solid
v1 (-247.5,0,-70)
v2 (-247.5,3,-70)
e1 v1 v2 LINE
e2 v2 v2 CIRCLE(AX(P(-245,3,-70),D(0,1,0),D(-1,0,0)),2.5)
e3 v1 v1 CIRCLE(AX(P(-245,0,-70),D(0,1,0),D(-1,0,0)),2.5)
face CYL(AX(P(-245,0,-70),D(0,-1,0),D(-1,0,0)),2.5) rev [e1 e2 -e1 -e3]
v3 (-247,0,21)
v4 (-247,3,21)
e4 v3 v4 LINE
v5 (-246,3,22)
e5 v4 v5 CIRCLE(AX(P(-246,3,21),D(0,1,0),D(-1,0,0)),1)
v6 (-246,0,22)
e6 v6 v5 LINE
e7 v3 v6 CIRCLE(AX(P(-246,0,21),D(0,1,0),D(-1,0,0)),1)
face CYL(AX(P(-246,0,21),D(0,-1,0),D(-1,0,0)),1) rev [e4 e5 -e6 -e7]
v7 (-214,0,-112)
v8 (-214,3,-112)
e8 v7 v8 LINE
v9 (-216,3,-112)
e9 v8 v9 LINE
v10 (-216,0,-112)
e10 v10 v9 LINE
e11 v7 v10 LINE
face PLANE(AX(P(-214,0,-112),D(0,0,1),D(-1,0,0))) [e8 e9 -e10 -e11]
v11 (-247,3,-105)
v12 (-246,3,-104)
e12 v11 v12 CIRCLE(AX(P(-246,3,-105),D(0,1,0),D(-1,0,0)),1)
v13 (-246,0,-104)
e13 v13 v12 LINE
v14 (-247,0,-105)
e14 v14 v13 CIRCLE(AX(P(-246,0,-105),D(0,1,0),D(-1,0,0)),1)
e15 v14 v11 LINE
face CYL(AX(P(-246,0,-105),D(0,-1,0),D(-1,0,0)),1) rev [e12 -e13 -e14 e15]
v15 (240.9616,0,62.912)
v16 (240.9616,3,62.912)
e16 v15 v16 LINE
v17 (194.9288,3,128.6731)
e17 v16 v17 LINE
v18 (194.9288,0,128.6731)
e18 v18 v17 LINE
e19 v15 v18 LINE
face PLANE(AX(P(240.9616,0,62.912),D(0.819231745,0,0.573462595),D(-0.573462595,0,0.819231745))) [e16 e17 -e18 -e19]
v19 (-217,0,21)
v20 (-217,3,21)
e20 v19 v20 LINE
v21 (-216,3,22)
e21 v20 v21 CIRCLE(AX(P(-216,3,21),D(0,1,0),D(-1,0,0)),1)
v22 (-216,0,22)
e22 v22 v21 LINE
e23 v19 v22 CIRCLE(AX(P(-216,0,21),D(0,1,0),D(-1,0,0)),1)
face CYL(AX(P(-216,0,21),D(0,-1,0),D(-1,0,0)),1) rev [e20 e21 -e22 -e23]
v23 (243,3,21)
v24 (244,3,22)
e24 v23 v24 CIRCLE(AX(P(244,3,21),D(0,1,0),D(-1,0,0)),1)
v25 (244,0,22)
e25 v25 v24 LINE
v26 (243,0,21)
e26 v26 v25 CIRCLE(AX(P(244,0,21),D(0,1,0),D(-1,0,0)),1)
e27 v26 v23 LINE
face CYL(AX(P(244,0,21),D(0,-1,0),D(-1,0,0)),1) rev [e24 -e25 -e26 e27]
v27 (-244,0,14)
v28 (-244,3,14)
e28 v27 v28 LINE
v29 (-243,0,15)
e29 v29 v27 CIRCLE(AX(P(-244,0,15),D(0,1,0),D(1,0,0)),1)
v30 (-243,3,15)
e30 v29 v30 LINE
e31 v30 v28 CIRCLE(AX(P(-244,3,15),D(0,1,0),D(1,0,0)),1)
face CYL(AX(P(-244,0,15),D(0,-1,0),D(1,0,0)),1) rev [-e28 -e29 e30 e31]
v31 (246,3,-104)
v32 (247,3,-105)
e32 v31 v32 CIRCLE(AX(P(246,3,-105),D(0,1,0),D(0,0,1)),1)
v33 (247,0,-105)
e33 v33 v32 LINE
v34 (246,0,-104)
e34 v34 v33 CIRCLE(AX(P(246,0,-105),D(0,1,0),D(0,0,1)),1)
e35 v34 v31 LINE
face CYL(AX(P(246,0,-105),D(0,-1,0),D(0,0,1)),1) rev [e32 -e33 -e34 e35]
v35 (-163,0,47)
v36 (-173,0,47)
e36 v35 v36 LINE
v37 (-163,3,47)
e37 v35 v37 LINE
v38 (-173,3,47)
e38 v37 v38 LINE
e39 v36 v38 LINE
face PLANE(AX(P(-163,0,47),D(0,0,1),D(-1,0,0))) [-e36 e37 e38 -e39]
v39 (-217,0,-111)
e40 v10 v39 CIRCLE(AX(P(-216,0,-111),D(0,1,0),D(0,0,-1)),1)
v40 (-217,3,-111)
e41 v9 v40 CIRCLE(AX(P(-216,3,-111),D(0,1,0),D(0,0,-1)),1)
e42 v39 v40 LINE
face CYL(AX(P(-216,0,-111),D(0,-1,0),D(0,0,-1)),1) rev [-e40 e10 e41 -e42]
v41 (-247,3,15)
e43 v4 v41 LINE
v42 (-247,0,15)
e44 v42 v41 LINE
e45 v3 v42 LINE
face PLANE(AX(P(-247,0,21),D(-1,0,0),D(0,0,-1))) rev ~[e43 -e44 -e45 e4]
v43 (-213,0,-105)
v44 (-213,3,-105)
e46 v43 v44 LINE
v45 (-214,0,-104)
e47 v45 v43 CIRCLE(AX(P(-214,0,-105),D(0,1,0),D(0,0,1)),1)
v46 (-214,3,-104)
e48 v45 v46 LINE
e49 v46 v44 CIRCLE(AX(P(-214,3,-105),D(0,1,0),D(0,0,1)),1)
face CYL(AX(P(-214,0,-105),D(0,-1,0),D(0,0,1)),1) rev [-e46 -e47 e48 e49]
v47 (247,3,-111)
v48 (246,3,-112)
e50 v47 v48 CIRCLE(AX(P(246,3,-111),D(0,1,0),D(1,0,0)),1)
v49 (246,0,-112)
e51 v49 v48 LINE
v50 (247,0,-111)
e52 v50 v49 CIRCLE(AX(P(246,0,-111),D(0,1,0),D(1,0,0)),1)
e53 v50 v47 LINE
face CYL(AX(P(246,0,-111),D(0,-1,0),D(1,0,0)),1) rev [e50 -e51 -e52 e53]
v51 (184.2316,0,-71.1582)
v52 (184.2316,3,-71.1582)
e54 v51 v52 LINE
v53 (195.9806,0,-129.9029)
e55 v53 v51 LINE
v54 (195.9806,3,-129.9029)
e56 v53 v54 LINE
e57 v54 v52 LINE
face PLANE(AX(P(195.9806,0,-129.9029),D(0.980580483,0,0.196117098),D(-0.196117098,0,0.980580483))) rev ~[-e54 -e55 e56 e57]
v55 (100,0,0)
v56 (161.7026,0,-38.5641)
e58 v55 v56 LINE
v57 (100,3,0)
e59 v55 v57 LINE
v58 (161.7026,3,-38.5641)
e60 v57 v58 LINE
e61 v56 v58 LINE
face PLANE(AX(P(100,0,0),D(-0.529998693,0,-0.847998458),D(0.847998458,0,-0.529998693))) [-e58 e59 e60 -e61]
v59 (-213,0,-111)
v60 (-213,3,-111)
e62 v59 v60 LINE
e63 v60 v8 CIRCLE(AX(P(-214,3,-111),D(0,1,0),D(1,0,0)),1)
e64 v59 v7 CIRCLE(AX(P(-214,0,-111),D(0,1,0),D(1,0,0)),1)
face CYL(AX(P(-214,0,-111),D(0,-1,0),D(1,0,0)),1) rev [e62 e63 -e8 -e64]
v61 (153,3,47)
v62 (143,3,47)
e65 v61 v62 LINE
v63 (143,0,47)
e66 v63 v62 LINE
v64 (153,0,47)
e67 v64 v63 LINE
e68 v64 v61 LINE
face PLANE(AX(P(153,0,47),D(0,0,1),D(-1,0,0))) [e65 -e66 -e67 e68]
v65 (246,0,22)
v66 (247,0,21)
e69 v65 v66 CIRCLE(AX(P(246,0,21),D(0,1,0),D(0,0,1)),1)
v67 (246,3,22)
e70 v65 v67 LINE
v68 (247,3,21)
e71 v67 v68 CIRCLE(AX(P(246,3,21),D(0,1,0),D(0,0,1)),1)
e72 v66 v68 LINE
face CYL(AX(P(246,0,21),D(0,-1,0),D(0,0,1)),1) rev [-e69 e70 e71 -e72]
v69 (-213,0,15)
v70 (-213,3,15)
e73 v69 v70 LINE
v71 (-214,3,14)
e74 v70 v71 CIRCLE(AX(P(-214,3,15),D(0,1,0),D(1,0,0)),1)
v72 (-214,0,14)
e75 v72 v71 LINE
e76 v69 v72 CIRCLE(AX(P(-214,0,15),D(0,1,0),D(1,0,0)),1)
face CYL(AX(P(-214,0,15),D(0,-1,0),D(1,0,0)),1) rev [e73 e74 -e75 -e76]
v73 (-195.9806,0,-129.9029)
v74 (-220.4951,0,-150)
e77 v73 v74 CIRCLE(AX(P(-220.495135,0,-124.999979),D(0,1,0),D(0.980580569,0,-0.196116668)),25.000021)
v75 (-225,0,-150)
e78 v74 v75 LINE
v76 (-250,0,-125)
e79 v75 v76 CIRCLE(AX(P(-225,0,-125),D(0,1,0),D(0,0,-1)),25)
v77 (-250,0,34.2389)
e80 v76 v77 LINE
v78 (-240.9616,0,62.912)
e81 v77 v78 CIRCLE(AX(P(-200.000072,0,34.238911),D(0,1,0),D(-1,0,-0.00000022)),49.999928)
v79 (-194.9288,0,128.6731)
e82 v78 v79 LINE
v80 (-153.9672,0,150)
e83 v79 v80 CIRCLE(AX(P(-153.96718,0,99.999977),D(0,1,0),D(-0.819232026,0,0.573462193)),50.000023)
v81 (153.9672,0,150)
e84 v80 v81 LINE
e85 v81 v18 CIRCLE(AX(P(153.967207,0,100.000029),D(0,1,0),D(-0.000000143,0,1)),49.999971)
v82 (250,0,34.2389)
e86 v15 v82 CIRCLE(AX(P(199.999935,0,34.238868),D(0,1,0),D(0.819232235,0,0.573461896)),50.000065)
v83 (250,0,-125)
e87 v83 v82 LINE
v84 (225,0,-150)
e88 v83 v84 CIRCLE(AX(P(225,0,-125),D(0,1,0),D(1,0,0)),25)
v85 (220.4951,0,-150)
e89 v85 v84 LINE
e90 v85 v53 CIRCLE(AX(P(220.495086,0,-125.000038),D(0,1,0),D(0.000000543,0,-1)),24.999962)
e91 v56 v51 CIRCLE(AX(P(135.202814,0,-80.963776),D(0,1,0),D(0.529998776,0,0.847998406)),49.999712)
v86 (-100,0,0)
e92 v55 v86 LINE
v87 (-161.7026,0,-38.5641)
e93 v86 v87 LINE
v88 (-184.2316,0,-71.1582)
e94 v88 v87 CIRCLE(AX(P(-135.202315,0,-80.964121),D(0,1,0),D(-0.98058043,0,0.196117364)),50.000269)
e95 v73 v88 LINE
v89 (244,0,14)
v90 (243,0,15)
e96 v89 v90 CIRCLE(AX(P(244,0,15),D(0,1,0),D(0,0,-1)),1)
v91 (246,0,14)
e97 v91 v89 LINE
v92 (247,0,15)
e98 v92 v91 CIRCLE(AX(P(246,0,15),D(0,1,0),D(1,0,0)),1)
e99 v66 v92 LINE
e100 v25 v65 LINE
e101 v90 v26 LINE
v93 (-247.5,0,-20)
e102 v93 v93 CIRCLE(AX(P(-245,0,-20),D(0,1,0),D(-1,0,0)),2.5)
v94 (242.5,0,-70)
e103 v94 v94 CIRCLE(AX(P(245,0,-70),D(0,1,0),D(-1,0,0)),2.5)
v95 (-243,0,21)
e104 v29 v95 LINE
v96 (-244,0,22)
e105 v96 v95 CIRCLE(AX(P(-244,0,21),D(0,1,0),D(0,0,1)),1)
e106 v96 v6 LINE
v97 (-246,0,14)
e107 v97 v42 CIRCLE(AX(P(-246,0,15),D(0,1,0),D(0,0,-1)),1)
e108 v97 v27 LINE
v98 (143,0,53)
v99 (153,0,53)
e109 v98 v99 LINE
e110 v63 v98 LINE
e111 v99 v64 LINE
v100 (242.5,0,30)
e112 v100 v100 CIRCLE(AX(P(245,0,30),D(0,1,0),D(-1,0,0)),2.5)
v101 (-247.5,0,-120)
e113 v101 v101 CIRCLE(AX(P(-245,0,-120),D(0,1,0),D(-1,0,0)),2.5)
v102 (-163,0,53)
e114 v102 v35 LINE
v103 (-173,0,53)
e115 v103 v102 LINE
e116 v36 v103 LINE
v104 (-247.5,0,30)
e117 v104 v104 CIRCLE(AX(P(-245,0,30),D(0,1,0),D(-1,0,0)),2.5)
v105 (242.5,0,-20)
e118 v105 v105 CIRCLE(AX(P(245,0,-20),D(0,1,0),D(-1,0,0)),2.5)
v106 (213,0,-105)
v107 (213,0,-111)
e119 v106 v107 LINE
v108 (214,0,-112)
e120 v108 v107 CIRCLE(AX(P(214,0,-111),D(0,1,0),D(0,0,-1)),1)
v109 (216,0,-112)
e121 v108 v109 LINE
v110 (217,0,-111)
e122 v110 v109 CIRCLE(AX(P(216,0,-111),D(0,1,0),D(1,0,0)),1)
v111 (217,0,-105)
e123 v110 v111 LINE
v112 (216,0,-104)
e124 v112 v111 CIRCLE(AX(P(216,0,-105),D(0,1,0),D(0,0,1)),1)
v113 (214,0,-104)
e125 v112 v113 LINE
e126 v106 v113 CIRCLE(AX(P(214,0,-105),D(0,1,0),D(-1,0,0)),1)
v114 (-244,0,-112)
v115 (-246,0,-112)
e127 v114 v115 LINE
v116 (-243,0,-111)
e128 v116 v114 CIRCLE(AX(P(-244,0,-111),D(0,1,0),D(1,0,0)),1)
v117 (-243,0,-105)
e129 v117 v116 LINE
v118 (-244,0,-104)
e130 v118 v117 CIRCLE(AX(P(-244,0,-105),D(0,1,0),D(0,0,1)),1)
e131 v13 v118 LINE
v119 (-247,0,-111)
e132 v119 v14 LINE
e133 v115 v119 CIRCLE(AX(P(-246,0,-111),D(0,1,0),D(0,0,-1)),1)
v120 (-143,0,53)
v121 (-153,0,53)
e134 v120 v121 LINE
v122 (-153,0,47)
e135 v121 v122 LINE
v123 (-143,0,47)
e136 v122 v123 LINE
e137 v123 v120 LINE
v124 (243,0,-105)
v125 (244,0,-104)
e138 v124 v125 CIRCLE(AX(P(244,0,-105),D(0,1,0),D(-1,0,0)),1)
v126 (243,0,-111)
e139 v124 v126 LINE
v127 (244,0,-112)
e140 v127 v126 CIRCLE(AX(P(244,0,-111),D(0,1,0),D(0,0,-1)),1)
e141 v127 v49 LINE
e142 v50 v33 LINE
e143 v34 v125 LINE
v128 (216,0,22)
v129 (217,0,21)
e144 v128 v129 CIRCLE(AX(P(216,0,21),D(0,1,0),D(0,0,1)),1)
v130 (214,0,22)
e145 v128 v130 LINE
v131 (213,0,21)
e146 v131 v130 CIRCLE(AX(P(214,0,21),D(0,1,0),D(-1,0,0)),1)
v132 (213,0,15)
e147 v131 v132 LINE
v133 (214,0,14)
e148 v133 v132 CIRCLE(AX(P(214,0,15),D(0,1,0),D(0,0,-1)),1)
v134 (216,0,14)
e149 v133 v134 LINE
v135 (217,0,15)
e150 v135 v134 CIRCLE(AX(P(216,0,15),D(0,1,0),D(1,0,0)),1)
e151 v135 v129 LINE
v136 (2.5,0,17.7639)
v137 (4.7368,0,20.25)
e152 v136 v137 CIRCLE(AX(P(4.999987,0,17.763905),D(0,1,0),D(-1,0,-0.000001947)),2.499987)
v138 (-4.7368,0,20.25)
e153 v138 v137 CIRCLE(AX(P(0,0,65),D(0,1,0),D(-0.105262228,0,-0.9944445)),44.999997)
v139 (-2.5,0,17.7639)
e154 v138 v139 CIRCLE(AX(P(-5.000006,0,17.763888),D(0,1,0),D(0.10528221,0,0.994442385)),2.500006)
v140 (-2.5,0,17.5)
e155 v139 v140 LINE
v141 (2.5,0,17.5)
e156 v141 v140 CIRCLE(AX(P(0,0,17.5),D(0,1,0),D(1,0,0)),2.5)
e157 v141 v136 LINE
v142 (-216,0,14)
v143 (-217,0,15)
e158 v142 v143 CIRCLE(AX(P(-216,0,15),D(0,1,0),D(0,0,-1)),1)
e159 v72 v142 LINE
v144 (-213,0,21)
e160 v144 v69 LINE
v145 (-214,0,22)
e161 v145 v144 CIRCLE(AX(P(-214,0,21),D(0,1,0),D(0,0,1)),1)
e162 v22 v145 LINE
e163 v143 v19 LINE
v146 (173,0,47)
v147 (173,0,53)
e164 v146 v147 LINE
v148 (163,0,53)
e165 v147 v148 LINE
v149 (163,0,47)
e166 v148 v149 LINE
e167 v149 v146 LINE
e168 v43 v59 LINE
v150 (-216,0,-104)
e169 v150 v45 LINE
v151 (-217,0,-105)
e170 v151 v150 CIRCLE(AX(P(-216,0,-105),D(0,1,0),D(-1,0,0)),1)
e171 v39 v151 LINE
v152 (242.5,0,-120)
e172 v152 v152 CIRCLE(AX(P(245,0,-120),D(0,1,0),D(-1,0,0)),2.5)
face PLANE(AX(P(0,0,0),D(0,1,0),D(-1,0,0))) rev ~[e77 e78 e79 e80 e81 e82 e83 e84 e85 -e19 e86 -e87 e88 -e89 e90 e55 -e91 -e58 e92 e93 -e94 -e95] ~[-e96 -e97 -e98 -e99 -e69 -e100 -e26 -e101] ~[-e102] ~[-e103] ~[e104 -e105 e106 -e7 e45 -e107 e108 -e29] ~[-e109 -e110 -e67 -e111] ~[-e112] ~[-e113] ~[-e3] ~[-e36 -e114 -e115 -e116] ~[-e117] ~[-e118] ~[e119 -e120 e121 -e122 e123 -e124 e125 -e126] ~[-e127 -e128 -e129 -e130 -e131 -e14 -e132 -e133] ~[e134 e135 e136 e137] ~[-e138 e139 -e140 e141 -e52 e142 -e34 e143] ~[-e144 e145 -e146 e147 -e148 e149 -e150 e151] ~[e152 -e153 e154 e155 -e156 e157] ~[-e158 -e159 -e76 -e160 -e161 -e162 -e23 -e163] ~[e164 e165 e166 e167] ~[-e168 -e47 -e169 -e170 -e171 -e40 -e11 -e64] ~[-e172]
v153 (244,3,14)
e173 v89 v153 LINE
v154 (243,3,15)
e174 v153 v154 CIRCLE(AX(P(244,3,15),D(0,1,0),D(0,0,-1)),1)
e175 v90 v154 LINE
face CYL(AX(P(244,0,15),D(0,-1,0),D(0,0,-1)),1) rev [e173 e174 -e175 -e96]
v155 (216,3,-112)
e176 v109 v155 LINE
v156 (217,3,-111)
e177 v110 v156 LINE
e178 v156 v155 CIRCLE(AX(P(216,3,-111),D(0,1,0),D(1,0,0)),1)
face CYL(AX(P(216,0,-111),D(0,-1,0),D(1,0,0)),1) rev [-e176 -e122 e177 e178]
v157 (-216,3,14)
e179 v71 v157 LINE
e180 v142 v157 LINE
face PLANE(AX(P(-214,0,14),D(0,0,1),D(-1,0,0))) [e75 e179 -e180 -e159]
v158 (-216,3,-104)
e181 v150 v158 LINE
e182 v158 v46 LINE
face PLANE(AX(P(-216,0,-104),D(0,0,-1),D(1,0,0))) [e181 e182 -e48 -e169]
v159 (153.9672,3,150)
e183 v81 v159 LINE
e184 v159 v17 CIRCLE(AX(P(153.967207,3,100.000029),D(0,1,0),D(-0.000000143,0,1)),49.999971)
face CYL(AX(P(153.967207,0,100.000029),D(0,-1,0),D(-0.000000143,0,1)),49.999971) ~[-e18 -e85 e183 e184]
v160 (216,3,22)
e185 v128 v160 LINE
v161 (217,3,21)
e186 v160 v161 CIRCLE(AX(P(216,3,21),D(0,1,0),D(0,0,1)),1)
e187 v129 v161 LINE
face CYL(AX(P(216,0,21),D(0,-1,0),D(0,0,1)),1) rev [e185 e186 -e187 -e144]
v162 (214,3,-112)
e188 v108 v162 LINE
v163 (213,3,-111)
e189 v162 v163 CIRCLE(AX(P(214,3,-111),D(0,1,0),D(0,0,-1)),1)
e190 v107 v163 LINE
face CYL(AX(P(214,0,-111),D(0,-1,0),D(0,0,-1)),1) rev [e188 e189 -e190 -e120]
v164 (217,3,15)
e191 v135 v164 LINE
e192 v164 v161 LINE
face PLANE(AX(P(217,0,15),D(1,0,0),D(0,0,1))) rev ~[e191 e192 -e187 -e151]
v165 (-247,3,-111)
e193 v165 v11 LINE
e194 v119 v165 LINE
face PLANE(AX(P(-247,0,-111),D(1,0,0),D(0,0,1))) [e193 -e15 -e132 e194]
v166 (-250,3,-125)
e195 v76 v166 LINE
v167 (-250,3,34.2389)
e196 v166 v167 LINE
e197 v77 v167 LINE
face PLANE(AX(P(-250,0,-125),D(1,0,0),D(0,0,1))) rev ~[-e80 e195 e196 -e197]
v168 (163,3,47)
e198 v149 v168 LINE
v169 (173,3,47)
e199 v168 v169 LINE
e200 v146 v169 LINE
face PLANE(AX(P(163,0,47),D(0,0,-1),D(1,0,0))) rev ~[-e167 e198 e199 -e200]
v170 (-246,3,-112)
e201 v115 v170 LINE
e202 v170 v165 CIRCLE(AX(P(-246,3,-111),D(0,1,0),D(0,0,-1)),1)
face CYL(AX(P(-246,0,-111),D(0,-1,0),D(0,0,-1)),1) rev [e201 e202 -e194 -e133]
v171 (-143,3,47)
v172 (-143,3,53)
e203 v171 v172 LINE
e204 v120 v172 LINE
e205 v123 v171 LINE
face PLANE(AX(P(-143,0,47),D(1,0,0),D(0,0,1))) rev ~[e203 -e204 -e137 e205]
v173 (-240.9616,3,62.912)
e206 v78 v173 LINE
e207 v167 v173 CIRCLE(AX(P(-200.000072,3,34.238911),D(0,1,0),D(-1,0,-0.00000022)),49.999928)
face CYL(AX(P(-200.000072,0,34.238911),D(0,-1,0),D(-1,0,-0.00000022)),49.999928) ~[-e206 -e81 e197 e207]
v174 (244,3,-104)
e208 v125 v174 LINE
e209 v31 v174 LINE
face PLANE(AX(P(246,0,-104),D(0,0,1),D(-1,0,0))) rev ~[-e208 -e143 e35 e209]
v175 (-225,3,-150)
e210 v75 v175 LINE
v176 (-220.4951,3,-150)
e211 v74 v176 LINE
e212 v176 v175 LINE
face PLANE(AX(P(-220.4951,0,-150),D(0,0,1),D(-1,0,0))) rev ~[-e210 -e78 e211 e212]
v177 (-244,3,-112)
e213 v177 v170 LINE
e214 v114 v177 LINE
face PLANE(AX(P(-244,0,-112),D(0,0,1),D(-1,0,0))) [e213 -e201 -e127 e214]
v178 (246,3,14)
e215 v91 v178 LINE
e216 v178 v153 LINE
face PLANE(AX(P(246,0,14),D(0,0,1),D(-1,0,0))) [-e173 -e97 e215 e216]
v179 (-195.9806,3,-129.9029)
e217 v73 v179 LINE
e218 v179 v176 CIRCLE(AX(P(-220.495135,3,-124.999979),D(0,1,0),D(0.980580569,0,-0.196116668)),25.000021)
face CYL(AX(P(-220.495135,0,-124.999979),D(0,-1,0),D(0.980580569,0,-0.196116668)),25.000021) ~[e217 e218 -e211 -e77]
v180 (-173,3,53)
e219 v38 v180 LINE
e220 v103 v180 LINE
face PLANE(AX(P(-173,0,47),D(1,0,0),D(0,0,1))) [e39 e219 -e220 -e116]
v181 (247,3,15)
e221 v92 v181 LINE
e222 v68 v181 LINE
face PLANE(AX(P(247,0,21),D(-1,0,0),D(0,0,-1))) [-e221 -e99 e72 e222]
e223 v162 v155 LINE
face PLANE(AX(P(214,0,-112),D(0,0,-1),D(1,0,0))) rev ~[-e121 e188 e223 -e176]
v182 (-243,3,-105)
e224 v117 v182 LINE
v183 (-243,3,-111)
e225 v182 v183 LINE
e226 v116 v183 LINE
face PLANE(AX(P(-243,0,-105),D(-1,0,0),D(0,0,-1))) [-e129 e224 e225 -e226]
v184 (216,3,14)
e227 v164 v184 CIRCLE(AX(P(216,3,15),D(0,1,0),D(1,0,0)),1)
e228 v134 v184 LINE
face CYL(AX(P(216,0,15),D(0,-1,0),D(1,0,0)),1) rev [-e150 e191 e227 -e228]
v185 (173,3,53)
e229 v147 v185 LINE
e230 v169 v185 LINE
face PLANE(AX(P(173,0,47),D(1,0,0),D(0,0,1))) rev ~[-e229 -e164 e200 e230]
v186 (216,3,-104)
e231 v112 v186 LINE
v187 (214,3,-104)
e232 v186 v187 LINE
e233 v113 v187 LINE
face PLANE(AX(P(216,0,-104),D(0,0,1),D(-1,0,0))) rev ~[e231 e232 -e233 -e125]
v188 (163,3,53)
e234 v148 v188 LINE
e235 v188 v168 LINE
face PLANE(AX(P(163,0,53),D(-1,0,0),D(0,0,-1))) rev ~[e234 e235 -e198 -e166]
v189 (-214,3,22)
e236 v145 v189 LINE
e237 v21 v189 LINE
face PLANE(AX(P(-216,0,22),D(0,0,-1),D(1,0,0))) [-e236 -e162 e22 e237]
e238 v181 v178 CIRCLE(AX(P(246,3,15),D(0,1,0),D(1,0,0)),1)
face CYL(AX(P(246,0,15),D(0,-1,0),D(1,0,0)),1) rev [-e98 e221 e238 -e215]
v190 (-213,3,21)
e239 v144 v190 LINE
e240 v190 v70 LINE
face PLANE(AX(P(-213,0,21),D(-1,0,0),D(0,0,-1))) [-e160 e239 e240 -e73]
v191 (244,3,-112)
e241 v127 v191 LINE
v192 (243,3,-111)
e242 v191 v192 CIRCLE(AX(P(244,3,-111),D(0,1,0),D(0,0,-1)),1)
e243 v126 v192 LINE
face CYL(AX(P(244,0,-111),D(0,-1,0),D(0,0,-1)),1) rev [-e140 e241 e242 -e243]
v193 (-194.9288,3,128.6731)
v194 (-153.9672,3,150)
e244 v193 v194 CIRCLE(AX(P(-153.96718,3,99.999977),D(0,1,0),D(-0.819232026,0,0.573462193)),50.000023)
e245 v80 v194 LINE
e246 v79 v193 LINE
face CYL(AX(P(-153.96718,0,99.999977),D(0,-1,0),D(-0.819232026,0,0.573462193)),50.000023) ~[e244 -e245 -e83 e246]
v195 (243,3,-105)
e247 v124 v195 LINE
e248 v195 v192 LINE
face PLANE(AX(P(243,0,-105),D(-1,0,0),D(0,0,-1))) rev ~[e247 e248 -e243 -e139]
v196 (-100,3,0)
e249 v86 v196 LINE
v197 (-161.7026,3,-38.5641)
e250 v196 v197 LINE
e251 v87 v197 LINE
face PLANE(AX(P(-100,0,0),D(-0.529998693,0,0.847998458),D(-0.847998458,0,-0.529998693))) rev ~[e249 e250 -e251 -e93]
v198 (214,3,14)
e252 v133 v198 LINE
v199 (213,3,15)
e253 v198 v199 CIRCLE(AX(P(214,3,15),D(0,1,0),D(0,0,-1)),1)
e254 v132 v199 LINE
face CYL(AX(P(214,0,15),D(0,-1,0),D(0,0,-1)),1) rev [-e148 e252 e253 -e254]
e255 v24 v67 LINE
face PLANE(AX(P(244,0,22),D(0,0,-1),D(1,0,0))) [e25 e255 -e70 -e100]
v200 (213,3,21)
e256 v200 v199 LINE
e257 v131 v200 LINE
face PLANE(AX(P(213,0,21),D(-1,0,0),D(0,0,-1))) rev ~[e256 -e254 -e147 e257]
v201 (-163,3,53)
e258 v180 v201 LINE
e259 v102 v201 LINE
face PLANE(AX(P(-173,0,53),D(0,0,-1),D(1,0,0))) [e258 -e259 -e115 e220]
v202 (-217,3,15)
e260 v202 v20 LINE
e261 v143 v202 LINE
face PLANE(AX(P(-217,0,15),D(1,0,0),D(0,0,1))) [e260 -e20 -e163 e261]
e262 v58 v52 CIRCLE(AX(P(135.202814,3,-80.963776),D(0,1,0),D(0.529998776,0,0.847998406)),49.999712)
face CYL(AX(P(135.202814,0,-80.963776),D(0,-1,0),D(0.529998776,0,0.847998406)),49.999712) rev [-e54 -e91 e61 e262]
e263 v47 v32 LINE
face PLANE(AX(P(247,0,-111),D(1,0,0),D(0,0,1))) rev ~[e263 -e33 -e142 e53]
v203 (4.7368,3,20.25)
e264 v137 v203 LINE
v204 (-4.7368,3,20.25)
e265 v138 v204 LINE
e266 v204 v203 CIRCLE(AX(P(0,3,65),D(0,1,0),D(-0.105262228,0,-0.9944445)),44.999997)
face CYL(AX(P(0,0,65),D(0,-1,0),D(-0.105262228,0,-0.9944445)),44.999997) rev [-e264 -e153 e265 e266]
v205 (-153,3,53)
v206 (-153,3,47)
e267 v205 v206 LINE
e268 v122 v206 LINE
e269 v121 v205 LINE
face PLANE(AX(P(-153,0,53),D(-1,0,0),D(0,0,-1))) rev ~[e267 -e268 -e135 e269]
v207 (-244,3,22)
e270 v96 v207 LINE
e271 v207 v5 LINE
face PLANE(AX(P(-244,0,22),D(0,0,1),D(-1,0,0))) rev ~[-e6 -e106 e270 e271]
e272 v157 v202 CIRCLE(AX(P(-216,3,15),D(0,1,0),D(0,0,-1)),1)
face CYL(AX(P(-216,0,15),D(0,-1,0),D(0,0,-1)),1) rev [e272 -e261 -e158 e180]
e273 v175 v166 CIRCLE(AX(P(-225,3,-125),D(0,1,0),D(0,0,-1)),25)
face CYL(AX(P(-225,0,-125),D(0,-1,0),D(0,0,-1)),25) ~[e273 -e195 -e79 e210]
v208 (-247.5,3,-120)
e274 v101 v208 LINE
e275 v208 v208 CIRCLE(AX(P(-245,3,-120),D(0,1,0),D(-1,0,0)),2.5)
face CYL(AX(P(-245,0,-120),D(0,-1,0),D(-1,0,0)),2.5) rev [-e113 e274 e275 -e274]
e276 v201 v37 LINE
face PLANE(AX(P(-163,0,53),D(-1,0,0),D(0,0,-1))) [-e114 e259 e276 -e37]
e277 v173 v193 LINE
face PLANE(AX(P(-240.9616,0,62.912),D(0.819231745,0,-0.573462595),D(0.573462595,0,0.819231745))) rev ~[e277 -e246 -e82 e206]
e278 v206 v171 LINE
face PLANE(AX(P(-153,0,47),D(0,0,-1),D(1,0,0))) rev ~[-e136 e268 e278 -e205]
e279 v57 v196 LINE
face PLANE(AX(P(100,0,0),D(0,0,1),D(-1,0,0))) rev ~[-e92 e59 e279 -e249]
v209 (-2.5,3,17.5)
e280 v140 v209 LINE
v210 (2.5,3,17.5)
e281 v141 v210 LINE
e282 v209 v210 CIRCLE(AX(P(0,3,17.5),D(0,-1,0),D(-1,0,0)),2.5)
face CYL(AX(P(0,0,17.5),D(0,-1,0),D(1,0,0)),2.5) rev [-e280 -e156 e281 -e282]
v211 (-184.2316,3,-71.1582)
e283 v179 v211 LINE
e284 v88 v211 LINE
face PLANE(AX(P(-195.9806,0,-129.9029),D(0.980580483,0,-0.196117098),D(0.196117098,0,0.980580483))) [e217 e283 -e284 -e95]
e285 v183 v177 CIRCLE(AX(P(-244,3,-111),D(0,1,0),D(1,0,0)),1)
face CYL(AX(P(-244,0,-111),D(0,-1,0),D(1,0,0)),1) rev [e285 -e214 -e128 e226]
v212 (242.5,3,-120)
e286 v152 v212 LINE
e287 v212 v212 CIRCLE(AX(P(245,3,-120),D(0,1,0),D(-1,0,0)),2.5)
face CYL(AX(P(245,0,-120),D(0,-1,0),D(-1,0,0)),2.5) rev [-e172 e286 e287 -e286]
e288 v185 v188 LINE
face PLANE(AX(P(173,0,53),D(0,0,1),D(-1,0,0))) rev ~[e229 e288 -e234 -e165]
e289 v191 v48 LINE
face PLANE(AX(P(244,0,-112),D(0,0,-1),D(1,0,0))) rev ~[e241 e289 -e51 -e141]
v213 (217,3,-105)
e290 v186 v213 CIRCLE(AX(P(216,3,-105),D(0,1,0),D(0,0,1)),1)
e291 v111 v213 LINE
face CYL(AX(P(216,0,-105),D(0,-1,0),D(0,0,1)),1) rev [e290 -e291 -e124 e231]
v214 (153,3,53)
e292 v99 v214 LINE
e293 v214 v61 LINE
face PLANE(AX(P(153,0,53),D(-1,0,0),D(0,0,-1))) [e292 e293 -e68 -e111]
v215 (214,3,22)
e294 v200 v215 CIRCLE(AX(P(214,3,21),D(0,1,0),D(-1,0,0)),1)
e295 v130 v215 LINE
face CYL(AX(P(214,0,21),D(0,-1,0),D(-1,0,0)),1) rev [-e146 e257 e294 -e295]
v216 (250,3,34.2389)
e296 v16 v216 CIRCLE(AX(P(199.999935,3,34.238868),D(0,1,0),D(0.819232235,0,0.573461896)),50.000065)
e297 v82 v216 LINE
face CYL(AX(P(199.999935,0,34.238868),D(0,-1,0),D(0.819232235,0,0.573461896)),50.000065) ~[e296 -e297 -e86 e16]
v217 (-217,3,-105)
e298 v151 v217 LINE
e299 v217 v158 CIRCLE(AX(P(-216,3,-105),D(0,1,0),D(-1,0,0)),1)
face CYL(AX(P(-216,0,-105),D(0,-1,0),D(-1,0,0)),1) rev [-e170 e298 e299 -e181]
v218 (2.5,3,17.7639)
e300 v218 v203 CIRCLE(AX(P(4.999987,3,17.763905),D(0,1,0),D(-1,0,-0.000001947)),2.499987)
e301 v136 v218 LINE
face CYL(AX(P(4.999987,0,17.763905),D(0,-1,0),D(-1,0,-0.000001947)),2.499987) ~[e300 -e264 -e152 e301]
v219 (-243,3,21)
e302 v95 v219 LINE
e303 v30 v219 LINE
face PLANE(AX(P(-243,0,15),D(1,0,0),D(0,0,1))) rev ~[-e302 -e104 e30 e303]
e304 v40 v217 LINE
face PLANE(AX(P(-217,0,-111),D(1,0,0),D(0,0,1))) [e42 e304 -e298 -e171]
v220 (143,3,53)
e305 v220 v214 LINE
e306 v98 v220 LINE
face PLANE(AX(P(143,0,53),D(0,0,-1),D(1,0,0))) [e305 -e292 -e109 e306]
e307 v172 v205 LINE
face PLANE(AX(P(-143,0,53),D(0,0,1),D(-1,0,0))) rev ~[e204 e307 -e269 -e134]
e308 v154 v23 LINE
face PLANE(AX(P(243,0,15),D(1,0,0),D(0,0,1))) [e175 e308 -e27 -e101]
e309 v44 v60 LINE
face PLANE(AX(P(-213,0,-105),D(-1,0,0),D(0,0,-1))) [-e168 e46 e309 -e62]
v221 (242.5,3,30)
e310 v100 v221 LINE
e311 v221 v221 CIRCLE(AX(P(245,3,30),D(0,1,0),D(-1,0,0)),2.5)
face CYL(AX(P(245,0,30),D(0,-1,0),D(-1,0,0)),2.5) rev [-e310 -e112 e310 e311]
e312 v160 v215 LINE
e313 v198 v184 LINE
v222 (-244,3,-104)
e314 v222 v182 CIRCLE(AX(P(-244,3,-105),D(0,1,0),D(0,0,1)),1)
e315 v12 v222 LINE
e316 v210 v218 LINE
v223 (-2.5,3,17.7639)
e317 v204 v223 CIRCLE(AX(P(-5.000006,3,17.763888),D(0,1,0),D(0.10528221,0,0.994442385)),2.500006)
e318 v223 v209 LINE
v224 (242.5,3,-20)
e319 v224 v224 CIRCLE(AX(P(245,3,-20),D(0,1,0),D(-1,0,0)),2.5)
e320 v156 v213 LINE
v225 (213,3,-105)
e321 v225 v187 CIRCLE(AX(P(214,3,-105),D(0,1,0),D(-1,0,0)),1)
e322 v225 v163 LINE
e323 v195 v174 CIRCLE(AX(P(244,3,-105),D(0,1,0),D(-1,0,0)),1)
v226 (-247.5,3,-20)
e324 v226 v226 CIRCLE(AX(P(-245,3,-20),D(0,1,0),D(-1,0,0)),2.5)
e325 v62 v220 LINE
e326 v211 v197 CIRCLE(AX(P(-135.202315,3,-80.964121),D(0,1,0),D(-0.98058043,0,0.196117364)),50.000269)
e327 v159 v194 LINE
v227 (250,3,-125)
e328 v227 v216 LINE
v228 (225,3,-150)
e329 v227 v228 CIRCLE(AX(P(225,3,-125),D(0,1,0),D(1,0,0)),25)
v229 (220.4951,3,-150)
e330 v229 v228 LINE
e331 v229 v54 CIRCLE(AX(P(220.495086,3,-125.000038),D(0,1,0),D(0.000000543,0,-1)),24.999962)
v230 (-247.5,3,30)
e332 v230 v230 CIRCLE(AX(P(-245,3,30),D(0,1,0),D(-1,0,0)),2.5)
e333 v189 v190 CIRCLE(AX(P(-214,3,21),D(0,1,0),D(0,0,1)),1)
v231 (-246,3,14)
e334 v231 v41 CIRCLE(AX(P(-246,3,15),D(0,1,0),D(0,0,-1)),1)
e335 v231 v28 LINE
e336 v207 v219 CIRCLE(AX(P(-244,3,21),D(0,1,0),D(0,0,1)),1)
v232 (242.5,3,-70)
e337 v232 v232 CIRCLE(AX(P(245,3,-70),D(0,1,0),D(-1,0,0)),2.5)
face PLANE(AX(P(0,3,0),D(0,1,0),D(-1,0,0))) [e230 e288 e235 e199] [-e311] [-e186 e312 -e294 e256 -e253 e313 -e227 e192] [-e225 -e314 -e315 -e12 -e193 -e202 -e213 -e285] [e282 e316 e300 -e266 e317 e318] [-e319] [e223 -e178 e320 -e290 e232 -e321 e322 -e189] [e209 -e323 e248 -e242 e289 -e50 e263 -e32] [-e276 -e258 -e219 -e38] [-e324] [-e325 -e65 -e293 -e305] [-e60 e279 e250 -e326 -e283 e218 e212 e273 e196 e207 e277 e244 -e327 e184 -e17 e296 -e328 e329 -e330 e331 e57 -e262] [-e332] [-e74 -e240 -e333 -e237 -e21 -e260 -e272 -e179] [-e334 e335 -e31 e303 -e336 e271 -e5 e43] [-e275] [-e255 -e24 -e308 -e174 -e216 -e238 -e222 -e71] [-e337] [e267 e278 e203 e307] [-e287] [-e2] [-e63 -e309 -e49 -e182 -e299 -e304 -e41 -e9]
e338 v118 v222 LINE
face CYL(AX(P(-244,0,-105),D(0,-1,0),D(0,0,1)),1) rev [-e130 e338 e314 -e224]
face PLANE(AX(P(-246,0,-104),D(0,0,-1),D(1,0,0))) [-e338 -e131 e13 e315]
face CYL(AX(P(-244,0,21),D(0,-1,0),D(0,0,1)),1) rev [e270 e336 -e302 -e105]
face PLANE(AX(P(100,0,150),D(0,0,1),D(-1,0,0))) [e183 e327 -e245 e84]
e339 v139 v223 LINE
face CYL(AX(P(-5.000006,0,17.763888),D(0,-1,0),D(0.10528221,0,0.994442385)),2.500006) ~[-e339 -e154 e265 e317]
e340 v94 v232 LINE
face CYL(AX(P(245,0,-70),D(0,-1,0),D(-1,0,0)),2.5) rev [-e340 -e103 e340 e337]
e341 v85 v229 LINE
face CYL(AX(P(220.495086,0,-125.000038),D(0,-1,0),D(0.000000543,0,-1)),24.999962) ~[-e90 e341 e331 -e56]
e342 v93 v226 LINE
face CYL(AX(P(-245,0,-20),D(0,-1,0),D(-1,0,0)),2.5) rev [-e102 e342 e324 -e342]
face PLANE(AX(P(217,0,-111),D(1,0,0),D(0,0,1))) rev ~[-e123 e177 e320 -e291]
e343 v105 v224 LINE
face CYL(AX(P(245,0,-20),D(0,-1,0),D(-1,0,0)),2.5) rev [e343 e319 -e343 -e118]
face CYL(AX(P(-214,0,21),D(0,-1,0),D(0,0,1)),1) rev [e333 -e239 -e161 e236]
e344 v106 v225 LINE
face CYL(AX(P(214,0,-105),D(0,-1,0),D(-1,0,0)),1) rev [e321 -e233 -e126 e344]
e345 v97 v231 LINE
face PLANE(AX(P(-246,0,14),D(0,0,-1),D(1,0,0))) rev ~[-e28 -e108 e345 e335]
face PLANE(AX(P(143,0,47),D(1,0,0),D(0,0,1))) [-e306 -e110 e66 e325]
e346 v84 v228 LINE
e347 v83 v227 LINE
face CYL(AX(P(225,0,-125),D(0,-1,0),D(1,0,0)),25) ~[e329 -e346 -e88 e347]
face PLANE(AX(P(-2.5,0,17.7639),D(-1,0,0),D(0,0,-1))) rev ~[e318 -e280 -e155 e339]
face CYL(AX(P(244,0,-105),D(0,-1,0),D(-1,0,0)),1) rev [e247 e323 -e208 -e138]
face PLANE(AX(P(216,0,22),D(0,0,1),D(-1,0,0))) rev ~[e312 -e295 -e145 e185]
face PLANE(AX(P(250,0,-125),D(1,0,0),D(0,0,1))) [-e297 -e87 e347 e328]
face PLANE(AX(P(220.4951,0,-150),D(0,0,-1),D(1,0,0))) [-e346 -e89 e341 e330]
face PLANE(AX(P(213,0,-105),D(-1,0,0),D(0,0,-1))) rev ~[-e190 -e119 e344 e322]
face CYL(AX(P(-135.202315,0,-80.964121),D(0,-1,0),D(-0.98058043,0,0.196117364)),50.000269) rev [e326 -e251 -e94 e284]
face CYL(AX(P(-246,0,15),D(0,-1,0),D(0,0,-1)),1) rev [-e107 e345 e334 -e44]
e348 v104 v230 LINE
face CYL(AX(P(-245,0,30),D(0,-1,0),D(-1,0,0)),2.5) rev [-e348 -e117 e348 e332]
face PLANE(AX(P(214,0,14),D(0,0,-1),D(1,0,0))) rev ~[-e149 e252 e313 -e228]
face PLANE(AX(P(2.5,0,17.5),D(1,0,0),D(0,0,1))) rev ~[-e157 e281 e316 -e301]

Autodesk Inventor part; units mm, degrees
ref_plane "YZ Plane" through (0, 0, 0) normal (1, 0, 0) x (0, 1, 0)
ref_plane "XZ Plane" through (0, 0, 0) normal (0, 1, 0) x (-1, 0, 0)
ref_plane "XY Plane" through (0, 0, 0) normal (0, 0, 1) x (1, 0, 0)
sketch "Sketch44" plane through (0, 0, 0) normal (0, 1, 0) x (-1, 0, 0)
  line L0 (-100, 0) -> (-161.7026, -38.5641)
  line L1 (-250, -125) -> (-250, 34.2389)
  line L2 (-240.9616, 62.912) -> (-194.9288, 128.6731)
  line L3 (-153.9672, 150) -> (0, 150)
  line L4 (-195.9806, -129.9029) -> (-184.2316, -71.1582)
  line L5 (-220.4951, -150) -> (-225, -150)
  arc A0 (-161.7026, -38.5641) -> (-184.2316, -71.1582) centre (-135.2026, -80.964) ccw
  arc A1 (-240.9616, 62.912) -> (-250, 34.2389) centre (-200, 34.2389) ccw
  arc A2 (-153.9672, 150) -> (-194.9288, 128.6731) centre (-153.9672, 100) ccw
  arc A3 (-220.4951, -150) -> (-195.9806, -129.9029) centre (-220.4951, -125) ccw
  arc A4 (-250, -125) -> (-225, -150) centre (-225, -125) ccw
  circle A5 centre (-245, -120) radius 2.5
  circle A6 centre (-245, 30) radius 2.5
  line L6 (-163, 47) -> (-173, 47)
  line L7 (-173, 47) -> (-173, 53)
  line L8 (-173, 53) -> (-163, 53)
  line L9 (-163, 53) -> (-163, 47)
  line L10 (-244, -112) -> (-246, -112)
  line L11 (-247, -111) -> (-247, -105)
  line L12 (-246, -104) -> (-244, -104)
  line L13 (-243, -105) -> (-243, -111)
  line L14 (-214, -112) -> (-216, -112)
  line L15 (-217, -111) -> (-217, -105)
  line L16 (-216, -104) -> (-214, -104)
  line L17 (-213, -105) -> (-213, -111)
  arc A7 (-214, -112) -> (-213, -111) centre (-214, -111) ccw
  arc A8 (-217, -111) -> (-216, -112) centre (-216, -111) ccw
  arc A9 (-216, -104) -> (-217, -105) centre (-216, -105) ccw
  arc A10 (-213, -105) -> (-214, -104) centre (-214, -105) ccw
  arc A11 (-243, -105) -> (-244, -104) centre (-244, -105) ccw
  arc A12 (-246, -104) -> (-247, -105) centre (-246, -105) ccw
  arc A13 (-247, -111) -> (-246, -112) centre (-246, -111) ccw
  arc A14 (-244, -112) -> (-243, -111) centre (-244, -111) ccw
  line L18 (-244, 22) -> (-246, 22)
  line L19 (-247, 21) -> (-247, 15)
  line L20 (-246, 14) -> (-244, 14)
  line L21 (-243, 15) -> (-243, 21)
  line L22 (-214, 14) -> (-216, 14)
  line L23 (-217, 15) -> (-217, 21)
  line L24 (-216, 22) -> (-214, 22)
  line L25 (-213, 21) -> (-213, 15)
  arc A15 (-214, 14) -> (-213, 15) centre (-214, 15) ccw
  arc A16 (-217, 15) -> (-216, 14) centre (-216, 15) ccw
  arc A17 (-216, 22) -> (-217, 21) centre (-216, 21) ccw
  arc A18 (-213, 21) -> (-214, 22) centre (-214, 21) ccw
  arc A19 (-243, 21) -> (-244, 22) centre (-244, 21) ccw
  arc A20 (-246, 22) -> (-247, 21) centre (-246, 21) ccw
  arc A21 (-247, 15) -> (-246, 14) centre (-246, 15) ccw
  arc A22 (-244, 14) -> (-243, 15) centre (-244, 15) ccw
  line L26 (243, -105) -> (243, -111)
  arc A23 (243, -111) -> (244, -112) centre (244, -111) ccw
  arc A24 (184.2316, -71.1582) -> (161.7026, -38.5641) centre (135.2026, -80.964) ccw
  line L27 (100, 0) -> (161.7026, -38.5641)
  arc A25 (214, 22) -> (213, 21) centre (214, 21) ccw
  line L28 (216, 22) -> (214, 22)
  line L29 (213, 21) -> (213, 15)
  arc A26 (217, 21) -> (216, 22) centre (216, 21) ccw
  arc A27 (213, 15) -> (214, 14) centre (214, 15) ccw
  line L30 (214, 14) -> (216, 14)
  line L31 (217, 15) -> (217, 21)
  arc A28 (216, 14) -> (217, 15) centre (216, 15) ccw
  line L32 (217, -111) -> (217, -105)
  arc A29 (216, -112) -> (217, -111) centre (216, -111) ccw
  arc A30 (217, -105) -> (216, -104) centre (216, -105) ccw
  line L33 (214, -112) -> (216, -112)
  line L34 (216, -104) -> (214, -104)
  arc A31 (214, -104) -> (213, -105) centre (214, -105) ccw
  arc A32 (213, -111) -> (214, -112) centre (214, -111) ccw
  line L35 (213, -105) -> (213, -111)
  line L36 (173, 47) -> (173, 53)
  line L37 (163, 47) -> (173, 47)
  line L38 (163, 53) -> (163, 47)
  line L39 (173, 53) -> (163, 53)
  line L40 (240.9616, 62.912) -> (194.9288, 128.6731)
  arc A33 (194.9288, 128.6731) -> (153.9672, 150) centre (153.9672, 100) ccw
  line L41 (220.4951, -150) -> (225, -150)
  arc A34 (195.9806, -129.9029) -> (220.4951, -150) centre (220.4951, -125) ccw
  arc A35 (225, -150) -> (250, -125) centre (225, -125) ccw
  circle A36 centre (245, -120) radius 2.5
  line L42 (244, -112) -> (246, -112)
  line L43 (247, -111) -> (247, -105)
  arc A37 (246, -112) -> (247, -111) centre (246, -111) ccw
  line L44 (246, 14) -> (244, 14)
  arc A38 (243, 15) -> (244, 14) centre (244, 15) ccw
  arc A39 (246, 14) -> (247, 15) centre (246, 15) ccw
  line L45 (246, -104) -> (244, -104)
  arc A40 (244, -104) -> (243, -105) centre (244, -105) ccw
  arc A41 (247, -105) -> (246, -104) centre (246, -105) ccw
  line L46 (250, -125) -> (250, 34.2389)
  arc A42 (250, 34.2389) -> (240.9616, 62.912) centre (200, 34.2389) ccw
  circle A43 centre (245, 30) radius 2.5
  line L47 (247, 21) -> (247, 15)
  line L48 (243, 15) -> (243, 21)
  arc A44 (244, 22) -> (243, 21) centre (244, 21) ccw
  line L49 (244, 22) -> (246, 22)
  arc A45 (247, 21) -> (246, 22) centre (246, 21) ccw
  line L50 (153.9672, 150) -> (0, 150)
  line L51 (195.9806, -129.9029) -> (184.2316, -71.1582)
  arc A46 (4.7368, 20.25) -> (-4.7368, 20.25) centre (0, 65) ccw
  line L52 (-100, 0) -> (100, 0)
  line L53 (2.5, 17.7639) -> (2.5, 17.5)
  line L54 (0, 15) -> (0, 15)
  line L55 (-2.5, 17.5) -> (-2.5, 17.7639)
  arc A47 (-2.5, 17.7639) -> (-4.7368, 20.25) centre (-5, 17.7639) ccw
  arc A48 (-2.5, 17.5) -> (0, 15) centre (0, 17.5) ccw
  arc A49 (4.7368, 20.25) -> (2.5, 17.7639) centre (5, 17.7639) ccw
  arc A50 (0, 15) -> (2.5, 17.5) centre (0, 17.5) ccw
  circle A51 centre (-245, -70) radius 2.5
  circle A52 centre (245, -70) radius 2.5
  circle A53 centre (-245, -20) radius 2.5
  circle A54 centre (245, -20) radius 2.5
  line L56 (-153, 47) -> (-143, 47)
  line L57 (-143, 47) -> (-143, 53)
  line L58 (-143, 53) -> (-153, 53)
  line L59 (-153, 53) -> (-153, 47)
  line L60 (153, 47) -> (143, 47)
  line L61 (143, 47) -> (143, 53)
  line L62 (143, 53) -> (153, 53)
  line L63 (153, 53) -> (153, 47)
  line L64 (-100, -94.2682) -> (-100, 182.8574)
  line L65 (100, -80.964) -> (100, 178.1604)
  point P0 (0, 0)
  point P1 (0, 0)
  point P2 (-180, -50)
  point P3 (-250, -150)
  point P4 (-250, 50)
  point P5 (-180, 150)
  point P6 (-200, -150)
  point P7 (-243, -112)
  point P8 (-247, -104)
  point P9 (-247, -112)
  point P10 (-213, -112)
  point P11 (-217, -104)
  point P12 (-217, -112)
  point P13 (-247, 14)
  point P14 (-247, 22)
  point P15 (-243, 14)
  point P16 (-213, 14)
  point P17 (-217, 14)
  point P18 (-213, 22)
  point P19 (243, -112)
  point P20 (180, -50)
  point P21 (213, 22)
  point P22 (213, 14)
  point P23 (217, 14)
  point P24 (217, -112)
  point P25 (217, -104)
  point P26 (213, -112)
  point P27 (180, 150)
  point P28 (250, -150)
  point P29 (200, -150)
  point P30 (247, -104)
  point P31 (247, -112)
  point P32 (243, 14)
  point P33 (247, 14)
  point P34 (250, 50)
  point P35 (247, 22)
  point P36 (2.5, 15)
  point P37 (-2.5, 15)
  point P38 (-2.5, 20.0695)
  point P39 (2.5, 20.0695)
  dimension "d726" = 80
  dimension "d727" = 50
  dimension "d728" = 200
  dimension "d729" = 100
  dimension "d730" = 70
  dimension "d731" = 180
  dimension "d732" = 20
  dimension "d733" = 100
  dimension "d734" = 50
  dimension "d735" = 50
  dimension "d736" = 25
  dimension "d737" = 5
  dimension "d738" = 5
  dimension "d739" = 150
  dimension "d740" = 5
  dimension "d741" = 5
  dimension "d742" = 30
  dimension "d743" = 10
  dimension "d744" = 6
  dimension "d745" = 97
  dimension "d746" = 73
  dimension "d747" = 4
  dimension "d748" = 8
  dimension "d749" = 8
  dimension "d750" = 7
  dimension "d751" = 4
  dimension "d752" = 8
  dimension "d753" = 8
  dimension "d754" = 1
  dimension "d755" = 8
  dimension "d756" = 4
  dimension "d757" = 7
  dimension "d758" = 8
  dimension "d759" = 4
  dimension "d760" = 8
  dimension "d761" = 30
  dimension "d762" = 8
  dimension "d763" = 1
  dimension "d764" = 30
  dimension "d765" = 8
  dimension "d766" = 4
  dimension "d767" = 8
  dimension "d768" = 4
  dimension "d769" = 30
  dimension "d770" = 7
  dimension "d771" = 5
  dimension "d772" = 8
  dimension "d773" = 4
  dimension "d774" = 8
  dimension "d775" = 4
  dimension "d776" = 30
  dimension "d777" = 7
  dimension "d778" = 5
  dimension "d779" = 90
  dimension "d780" = 97
  dimension "d781" = 6
  dimension "d782" = 10
  dimension "d783" = 73
  dimension "d784" = 65
  dimension "d785" = 100
  dimension "d786" = 200
  dimension "d787" = 5
  dimension "d788" = 2.5
  dimension "d789" = 50
extrude "Extrusion25" add sketch "Sketch44" along normal blind 3
properties part number "New shell2"
